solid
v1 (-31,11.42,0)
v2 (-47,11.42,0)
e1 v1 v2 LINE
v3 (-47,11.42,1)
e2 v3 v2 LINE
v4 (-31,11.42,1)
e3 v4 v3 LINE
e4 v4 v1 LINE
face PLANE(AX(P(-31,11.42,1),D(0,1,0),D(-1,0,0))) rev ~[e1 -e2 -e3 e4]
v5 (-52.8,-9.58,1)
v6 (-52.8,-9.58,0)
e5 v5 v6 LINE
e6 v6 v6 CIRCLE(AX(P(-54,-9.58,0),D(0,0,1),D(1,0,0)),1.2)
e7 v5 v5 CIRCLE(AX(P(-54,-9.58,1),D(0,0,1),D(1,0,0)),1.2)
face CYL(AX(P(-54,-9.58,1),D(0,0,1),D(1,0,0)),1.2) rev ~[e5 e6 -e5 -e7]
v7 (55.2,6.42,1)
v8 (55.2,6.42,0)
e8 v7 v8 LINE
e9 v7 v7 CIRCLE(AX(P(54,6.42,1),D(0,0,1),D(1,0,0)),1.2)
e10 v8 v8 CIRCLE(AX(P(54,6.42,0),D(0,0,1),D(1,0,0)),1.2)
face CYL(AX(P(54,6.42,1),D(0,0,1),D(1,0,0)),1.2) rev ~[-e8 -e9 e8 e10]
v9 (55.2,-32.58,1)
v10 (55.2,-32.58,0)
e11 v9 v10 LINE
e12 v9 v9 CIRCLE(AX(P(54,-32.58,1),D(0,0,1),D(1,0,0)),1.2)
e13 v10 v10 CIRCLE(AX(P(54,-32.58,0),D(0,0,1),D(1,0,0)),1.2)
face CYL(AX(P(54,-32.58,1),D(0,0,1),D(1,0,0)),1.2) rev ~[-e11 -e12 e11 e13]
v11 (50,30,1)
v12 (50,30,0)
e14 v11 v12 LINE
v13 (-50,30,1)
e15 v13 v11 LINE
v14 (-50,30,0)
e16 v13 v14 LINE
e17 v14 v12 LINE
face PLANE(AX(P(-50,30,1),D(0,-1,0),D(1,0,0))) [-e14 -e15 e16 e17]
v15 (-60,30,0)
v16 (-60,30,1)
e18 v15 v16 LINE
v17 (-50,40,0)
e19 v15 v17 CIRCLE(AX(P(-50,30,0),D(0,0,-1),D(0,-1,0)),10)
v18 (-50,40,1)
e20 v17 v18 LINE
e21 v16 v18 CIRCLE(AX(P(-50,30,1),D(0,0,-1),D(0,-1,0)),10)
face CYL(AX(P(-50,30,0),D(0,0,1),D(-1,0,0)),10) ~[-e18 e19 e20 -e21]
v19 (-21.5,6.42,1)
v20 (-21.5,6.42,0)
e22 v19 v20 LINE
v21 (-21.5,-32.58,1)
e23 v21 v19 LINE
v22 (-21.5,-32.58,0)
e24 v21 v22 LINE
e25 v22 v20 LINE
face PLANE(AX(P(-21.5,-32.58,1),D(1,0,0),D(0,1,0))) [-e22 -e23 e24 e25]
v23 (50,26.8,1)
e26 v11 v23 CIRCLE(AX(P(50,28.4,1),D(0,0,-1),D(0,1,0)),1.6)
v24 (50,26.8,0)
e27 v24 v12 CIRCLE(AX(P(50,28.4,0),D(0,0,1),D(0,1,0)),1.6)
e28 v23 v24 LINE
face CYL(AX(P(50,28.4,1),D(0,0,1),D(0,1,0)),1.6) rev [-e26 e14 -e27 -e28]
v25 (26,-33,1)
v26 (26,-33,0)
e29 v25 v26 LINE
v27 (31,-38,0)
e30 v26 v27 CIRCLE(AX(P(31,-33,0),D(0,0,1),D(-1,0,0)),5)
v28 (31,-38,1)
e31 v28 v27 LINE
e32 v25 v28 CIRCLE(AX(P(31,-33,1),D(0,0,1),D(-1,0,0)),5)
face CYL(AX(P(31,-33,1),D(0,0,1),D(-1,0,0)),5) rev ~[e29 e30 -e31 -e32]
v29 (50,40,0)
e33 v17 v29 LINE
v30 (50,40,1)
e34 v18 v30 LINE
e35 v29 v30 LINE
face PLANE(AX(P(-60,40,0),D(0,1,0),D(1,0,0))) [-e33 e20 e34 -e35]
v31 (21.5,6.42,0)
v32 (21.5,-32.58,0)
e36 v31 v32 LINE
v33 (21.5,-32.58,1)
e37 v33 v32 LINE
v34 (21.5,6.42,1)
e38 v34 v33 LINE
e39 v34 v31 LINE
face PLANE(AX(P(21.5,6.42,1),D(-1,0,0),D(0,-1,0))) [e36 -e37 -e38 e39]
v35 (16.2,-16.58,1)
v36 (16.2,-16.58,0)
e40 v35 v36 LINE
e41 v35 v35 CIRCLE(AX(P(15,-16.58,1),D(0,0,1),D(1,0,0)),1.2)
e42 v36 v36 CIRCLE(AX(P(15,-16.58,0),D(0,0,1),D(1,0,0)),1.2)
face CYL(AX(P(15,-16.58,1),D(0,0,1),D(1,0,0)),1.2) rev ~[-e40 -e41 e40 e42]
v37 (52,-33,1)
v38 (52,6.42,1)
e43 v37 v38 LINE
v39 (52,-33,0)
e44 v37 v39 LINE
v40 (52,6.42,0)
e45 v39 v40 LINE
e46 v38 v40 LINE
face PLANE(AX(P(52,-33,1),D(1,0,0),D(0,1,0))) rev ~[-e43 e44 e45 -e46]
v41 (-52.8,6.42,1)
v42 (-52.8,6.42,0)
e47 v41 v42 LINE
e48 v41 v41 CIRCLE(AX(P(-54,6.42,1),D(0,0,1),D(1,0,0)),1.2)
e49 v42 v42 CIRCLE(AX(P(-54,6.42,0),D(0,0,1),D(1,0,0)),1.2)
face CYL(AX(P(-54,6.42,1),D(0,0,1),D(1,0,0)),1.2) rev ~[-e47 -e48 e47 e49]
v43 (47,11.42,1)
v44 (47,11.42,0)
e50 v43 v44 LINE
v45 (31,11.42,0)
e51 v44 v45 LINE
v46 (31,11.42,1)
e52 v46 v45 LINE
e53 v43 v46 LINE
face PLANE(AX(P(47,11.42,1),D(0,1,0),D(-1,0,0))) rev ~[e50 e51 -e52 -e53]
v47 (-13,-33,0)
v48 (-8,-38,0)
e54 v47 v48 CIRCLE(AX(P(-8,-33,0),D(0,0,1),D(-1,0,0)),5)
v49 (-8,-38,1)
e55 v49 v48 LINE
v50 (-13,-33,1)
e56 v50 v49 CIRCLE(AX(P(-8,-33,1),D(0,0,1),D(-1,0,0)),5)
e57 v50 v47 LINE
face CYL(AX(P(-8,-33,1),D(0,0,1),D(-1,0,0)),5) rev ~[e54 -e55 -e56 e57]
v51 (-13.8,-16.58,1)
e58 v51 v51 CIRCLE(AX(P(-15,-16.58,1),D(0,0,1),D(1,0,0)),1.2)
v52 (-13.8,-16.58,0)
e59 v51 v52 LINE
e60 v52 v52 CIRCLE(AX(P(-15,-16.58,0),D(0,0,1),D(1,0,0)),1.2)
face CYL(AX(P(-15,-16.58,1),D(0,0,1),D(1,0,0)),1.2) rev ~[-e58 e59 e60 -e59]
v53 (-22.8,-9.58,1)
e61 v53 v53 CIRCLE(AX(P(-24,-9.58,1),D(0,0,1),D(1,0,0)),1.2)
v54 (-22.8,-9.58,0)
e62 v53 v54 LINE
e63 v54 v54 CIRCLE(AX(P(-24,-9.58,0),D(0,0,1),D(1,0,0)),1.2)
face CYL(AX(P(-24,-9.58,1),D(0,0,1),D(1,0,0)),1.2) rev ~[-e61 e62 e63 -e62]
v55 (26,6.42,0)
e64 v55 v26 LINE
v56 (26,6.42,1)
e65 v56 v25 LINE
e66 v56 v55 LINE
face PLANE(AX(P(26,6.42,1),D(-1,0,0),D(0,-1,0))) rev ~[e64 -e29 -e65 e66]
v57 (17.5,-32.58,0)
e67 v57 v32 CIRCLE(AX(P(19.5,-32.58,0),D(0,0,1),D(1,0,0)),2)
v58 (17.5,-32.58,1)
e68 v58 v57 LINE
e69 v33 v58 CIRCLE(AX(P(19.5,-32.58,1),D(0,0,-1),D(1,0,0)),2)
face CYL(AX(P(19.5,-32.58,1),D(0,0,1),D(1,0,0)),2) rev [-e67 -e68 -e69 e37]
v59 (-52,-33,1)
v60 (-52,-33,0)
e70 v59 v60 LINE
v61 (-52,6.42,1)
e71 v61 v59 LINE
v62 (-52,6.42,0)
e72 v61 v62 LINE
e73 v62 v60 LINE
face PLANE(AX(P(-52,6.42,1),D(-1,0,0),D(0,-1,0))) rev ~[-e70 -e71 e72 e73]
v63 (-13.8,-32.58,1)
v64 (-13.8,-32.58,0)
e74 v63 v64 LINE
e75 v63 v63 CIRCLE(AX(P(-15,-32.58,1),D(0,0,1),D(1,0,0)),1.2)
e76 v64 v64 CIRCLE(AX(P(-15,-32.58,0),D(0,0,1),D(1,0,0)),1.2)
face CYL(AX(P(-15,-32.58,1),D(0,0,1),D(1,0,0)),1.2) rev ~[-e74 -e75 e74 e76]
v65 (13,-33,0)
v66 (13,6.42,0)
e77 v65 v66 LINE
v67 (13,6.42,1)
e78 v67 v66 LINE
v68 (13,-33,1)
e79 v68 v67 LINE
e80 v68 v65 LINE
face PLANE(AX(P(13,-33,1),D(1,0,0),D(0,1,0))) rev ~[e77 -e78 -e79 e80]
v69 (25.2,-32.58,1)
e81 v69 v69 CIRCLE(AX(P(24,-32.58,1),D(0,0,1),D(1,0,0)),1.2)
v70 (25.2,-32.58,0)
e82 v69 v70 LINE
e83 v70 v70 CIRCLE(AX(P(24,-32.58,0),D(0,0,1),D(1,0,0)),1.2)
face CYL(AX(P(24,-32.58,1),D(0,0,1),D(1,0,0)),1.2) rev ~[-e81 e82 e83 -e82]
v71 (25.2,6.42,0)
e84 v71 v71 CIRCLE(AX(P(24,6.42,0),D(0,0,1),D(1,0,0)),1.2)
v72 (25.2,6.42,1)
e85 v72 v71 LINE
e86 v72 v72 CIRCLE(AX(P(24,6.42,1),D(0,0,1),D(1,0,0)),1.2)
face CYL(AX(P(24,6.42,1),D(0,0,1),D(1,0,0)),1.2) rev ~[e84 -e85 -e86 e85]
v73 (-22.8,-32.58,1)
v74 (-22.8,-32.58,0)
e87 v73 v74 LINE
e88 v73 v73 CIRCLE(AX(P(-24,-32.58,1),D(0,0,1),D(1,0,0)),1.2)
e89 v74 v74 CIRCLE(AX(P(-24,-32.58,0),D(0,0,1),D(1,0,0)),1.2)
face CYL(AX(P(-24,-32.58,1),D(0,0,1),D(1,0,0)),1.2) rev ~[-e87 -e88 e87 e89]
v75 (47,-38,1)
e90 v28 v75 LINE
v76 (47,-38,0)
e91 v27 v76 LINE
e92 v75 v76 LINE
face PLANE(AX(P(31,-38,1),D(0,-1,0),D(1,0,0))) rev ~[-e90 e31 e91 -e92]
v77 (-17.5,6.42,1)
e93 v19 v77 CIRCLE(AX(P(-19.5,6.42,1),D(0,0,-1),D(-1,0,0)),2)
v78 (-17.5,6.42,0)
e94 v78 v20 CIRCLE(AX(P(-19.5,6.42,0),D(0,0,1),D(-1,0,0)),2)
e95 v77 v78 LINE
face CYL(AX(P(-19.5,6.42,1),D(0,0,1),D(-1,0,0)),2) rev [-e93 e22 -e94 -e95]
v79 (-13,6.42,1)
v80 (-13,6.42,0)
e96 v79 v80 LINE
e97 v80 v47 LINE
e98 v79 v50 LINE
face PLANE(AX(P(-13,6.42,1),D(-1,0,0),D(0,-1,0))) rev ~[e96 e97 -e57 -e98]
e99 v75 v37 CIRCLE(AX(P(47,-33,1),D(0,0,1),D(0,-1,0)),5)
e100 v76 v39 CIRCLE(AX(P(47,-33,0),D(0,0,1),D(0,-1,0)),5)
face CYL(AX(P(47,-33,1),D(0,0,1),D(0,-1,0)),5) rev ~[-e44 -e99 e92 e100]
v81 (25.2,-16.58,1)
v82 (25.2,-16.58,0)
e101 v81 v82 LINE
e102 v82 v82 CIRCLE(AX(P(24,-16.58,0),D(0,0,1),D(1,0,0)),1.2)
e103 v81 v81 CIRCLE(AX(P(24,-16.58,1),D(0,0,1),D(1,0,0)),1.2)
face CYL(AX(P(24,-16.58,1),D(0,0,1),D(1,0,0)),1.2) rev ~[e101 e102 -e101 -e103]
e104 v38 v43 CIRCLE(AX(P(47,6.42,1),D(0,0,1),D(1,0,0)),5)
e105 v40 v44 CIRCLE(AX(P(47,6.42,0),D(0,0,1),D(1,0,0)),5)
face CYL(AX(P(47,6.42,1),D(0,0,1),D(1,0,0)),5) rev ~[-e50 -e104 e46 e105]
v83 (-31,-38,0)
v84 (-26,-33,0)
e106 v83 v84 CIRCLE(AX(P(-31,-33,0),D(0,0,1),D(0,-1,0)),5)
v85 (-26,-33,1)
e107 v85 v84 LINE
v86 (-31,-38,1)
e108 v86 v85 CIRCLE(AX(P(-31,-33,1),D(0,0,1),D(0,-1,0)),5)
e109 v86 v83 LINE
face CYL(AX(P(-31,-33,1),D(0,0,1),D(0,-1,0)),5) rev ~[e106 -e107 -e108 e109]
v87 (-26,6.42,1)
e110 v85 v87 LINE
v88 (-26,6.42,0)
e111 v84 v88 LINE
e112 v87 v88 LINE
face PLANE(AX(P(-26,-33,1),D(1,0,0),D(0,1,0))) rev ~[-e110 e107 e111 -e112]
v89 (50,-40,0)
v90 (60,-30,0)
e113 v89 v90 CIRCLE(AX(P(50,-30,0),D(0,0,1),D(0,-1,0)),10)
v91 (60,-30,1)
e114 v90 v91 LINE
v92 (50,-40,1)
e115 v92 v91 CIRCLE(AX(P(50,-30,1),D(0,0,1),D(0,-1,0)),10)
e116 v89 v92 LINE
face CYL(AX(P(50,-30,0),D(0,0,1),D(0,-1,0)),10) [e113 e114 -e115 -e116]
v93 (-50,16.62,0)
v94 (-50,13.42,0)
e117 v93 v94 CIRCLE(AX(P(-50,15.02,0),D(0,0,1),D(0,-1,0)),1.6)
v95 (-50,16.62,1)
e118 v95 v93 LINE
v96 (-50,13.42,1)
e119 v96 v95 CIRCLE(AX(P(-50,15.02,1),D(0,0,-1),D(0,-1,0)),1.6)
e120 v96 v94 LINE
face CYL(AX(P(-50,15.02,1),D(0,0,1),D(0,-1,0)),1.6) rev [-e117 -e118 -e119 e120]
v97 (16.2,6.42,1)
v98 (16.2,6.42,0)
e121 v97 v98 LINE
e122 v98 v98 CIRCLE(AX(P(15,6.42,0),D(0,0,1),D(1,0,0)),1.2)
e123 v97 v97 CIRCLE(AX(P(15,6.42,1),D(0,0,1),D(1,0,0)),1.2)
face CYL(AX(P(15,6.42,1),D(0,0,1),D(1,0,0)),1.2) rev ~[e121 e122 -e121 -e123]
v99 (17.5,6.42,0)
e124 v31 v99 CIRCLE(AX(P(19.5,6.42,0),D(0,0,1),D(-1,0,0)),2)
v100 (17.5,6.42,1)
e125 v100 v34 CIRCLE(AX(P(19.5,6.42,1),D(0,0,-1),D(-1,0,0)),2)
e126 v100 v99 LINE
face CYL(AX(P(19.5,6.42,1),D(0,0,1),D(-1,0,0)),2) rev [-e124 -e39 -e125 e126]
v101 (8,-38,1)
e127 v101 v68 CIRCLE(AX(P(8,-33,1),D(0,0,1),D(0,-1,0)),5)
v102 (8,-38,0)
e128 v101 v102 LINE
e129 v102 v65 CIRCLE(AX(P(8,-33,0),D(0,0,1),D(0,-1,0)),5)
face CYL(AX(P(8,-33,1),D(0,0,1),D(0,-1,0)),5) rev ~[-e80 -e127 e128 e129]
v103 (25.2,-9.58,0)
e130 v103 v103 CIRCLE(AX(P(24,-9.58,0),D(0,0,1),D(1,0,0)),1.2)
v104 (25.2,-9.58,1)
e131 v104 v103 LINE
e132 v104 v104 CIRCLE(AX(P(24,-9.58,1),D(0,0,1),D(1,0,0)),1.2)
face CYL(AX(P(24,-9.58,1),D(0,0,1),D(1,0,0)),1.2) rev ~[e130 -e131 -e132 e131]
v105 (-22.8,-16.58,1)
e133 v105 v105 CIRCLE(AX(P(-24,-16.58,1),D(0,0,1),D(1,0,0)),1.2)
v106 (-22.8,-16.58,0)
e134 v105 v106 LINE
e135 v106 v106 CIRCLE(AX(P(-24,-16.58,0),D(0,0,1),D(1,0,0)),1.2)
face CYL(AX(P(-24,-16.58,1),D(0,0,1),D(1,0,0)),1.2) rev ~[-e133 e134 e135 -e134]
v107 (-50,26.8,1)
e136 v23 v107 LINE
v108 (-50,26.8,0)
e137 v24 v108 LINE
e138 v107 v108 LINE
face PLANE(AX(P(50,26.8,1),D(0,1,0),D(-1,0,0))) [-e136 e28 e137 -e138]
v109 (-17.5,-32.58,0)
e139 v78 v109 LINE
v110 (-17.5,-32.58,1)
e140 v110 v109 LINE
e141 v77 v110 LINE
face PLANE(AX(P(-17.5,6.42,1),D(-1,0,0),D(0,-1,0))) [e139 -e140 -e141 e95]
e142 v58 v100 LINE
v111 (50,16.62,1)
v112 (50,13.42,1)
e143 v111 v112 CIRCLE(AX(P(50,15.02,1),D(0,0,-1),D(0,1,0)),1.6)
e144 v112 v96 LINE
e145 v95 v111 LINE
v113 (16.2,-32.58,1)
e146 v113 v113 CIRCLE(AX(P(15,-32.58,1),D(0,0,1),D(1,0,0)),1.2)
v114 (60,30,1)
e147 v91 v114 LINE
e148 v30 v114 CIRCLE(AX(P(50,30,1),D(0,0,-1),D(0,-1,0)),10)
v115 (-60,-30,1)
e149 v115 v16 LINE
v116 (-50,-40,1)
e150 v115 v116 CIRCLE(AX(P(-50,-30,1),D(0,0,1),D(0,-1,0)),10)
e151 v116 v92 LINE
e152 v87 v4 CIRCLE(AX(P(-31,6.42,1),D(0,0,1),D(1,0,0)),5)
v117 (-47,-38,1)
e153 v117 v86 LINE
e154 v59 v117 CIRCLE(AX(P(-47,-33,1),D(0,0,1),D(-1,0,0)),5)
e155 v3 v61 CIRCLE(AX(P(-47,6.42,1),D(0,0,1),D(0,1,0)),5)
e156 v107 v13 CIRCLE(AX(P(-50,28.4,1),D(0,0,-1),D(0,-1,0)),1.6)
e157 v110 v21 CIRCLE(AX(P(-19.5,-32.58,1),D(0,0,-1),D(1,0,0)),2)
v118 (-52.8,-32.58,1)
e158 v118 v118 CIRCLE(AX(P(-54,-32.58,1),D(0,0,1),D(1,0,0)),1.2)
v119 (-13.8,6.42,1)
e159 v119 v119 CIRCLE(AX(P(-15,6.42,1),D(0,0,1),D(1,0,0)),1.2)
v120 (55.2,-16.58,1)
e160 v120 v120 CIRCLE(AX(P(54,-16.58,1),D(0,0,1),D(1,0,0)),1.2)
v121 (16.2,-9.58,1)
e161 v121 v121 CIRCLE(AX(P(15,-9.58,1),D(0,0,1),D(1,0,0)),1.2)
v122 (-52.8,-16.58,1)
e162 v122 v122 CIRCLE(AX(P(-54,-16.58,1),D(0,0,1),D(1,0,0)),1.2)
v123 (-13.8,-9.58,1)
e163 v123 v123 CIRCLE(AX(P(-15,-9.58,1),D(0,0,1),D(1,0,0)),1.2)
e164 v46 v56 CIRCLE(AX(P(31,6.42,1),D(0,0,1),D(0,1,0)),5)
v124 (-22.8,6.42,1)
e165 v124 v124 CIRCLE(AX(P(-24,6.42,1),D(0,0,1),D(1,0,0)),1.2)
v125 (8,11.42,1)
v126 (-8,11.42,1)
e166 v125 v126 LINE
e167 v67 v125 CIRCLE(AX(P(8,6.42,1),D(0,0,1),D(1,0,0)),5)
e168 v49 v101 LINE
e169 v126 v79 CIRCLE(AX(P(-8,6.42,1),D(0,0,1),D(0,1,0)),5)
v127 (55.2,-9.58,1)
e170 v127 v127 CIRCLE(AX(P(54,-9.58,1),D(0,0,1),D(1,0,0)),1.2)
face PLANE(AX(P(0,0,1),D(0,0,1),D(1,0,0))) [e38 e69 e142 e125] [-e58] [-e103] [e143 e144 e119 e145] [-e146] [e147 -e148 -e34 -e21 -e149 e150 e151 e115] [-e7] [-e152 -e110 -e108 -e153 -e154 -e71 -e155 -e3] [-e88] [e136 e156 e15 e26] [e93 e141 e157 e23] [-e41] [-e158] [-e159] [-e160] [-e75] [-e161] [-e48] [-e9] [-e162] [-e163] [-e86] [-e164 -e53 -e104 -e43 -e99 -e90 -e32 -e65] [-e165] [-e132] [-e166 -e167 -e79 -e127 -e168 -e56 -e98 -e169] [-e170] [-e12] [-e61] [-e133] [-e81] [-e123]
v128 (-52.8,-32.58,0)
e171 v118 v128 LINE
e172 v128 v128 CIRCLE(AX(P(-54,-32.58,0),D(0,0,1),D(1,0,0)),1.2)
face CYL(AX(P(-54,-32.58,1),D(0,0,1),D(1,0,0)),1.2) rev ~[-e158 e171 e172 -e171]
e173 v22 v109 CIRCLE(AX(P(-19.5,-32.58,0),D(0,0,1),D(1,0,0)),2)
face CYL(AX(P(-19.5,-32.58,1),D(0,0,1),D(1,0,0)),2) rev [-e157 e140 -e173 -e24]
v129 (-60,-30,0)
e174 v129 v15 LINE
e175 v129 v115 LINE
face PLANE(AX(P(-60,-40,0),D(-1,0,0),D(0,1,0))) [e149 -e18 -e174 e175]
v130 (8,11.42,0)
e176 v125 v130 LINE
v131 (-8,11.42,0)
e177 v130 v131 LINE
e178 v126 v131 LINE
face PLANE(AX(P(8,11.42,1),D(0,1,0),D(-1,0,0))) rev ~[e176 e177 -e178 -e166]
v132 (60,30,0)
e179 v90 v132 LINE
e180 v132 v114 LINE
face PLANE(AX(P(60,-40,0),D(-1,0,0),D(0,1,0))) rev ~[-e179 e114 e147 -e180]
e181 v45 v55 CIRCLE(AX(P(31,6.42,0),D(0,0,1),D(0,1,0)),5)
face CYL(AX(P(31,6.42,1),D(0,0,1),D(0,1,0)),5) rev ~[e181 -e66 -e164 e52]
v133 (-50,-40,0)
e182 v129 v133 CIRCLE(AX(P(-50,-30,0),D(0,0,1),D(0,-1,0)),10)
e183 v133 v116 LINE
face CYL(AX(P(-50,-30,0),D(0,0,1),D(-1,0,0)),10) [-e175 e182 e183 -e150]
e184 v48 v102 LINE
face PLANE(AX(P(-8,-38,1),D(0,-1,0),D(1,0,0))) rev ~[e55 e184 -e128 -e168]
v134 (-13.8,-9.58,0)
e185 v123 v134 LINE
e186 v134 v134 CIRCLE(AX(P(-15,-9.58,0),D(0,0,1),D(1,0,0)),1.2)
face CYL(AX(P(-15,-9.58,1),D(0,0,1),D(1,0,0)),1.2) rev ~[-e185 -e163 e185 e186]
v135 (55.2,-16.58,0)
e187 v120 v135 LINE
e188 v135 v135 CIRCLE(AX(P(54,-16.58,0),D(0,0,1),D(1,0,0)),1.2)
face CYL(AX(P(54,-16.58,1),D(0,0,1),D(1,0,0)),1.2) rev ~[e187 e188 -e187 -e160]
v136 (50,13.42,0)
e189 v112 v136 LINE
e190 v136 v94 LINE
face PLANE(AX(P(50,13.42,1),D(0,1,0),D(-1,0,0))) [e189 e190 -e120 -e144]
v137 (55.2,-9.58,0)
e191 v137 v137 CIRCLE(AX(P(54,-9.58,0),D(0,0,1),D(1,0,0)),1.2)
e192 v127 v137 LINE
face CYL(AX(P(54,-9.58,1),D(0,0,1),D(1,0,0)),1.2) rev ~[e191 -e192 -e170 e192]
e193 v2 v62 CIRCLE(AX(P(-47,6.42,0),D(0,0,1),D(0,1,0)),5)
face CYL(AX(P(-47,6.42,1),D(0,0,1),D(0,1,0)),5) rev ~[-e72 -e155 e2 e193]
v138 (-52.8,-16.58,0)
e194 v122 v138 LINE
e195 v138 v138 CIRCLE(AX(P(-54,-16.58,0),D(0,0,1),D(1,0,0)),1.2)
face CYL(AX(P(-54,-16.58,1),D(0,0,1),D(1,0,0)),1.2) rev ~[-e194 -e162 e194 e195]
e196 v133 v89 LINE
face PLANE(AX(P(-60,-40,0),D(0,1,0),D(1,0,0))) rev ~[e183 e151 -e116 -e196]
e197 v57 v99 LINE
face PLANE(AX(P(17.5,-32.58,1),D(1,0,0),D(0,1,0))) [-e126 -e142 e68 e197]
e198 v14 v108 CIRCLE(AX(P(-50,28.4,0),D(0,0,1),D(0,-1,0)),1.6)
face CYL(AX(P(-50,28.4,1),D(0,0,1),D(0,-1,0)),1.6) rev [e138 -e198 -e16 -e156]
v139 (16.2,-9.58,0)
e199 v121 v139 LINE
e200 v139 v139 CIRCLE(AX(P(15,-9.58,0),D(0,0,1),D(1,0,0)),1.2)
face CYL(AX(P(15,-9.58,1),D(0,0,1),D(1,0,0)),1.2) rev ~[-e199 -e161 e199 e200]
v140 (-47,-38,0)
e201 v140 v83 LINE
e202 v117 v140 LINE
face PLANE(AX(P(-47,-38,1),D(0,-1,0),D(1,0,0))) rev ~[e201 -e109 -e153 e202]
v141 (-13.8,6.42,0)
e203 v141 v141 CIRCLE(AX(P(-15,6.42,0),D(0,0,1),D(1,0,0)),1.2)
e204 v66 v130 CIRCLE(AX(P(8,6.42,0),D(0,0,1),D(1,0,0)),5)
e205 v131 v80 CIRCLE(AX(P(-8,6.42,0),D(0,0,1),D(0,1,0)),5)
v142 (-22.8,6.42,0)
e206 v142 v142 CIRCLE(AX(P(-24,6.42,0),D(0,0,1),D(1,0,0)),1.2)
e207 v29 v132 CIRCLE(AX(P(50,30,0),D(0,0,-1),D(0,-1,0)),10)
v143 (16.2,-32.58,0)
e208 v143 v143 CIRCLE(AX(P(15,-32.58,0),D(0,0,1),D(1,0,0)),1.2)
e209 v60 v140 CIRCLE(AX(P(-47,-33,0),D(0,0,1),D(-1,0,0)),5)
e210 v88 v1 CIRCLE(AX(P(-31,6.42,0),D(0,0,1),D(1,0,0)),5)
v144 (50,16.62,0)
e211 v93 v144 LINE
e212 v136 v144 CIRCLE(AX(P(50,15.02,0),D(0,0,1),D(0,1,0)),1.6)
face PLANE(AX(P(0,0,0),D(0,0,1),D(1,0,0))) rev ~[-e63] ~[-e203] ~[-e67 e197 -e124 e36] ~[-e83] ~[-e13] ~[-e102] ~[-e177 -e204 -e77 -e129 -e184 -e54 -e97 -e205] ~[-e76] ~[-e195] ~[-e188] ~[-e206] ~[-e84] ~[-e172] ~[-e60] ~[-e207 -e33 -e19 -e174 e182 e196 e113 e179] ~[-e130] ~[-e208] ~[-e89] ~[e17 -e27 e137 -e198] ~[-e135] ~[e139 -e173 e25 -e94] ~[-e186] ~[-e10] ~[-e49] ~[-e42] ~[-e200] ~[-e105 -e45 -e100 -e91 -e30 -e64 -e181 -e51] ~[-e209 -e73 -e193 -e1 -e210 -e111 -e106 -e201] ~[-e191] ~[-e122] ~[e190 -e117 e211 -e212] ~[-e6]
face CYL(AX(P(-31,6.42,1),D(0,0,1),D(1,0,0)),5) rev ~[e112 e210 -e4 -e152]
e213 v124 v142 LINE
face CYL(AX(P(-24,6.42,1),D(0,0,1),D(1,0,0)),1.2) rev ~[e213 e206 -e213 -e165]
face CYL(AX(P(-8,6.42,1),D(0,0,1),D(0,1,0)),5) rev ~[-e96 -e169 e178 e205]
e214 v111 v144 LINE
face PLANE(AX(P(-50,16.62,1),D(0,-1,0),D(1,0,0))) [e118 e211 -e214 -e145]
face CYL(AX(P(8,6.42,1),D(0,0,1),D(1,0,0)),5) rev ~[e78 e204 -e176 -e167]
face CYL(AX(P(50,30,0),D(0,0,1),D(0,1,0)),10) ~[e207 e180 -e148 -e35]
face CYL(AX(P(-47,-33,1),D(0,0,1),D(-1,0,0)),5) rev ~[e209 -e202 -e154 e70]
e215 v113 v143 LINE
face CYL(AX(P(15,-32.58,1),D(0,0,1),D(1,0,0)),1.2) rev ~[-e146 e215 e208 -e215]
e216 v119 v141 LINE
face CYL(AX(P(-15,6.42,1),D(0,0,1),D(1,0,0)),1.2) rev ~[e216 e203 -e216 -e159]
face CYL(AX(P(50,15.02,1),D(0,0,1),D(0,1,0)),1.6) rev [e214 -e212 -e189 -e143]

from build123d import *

# Parameters (mm, degrees)
SKETCH1_W            = 120
SKETCH1_H            = 80
PLATE_DEPTH          = 1
SLOT_CUT_DEPTH       = 73.117958928
SECOND_SLOT_COUNT    = 2
SECOND_SLOT_PITCH    = 13.38
MOTOR_OUTLINE_R      = 1.2
MOTOR_MOUNT_DEPTH    = 73.117958928
MOTORS_COUNT         = 3
MOTORS_PITCH         = 39
MOTORS_COUNT_DIR2    = 2
MOTORS_PITCH_DIR2    = 23
MOTOR_CUTOUT_DEPTH   = 73.117958928
CUTOUT_PATTERN_COUNT = 3
CUTOUT_PATTERN_PITCH = 39
FILLET1_R            = 10
CUT_EXTRUDE5_DEPTH   = 73.117958928
LPATTERN6_COUNT      = 2
LPATTERN6_PITCH      = 39


with BuildPart() as part:
    # Sketch1 → plate (new body)
    with BuildSketch(Plane.XY):
        Rectangle(SKETCH1_W, SKETCH1_H)
    extrude(amount=PLATE_DEPTH)

    # Sketch2 → slot_cut (cut, through all)
    with BuildSketch(Plane.XY.offset(1)):
        with BuildLine():
            Line((50, 26.8), (-50, 26.8))
            ThreePointArc((-50, 26.8), (-51.6, 28.4), (-50, 30))
            Line((-50, 30), (50, 30))
            ThreePointArc((50, 30), (51.6, 28.4), (50, 26.8))
        make_face()
    slot_cut = extrude(amount=-SLOT_CUT_DEPTH, mode=Mode.SUBTRACT)

    # second_slot: slot_cut ×2
    with Locations(*[(0, -i * SECOND_SLOT_PITCH, 0) for i in range(1, SECOND_SLOT_COUNT)]):
        add(slot_cut, mode=Mode.SUBTRACT)

    # motor_outline → motor_mount (cut, through all)
    with BuildSketch(Plane.XY.offset(1)):
        with Locations((-54, 6.42)):
            Circle(MOTOR_OUTLINE_R)
        with Locations((-54, -9.58)):
            Circle(MOTOR_OUTLINE_R)
        with Locations((-24, -9.58)):
            Circle(MOTOR_OUTLINE_R)
        with Locations((-24, 6.42)):
            Circle(MOTOR_OUTLINE_R)
    motor_mount = extrude(amount=-MOTOR_MOUNT_DEPTH, mode=Mode.SUBTRACT)

    # motors: motor_mount 3 × 2
    with Locations(*[(i * MOTORS_PITCH, -j * MOTORS_PITCH_DIR2, 0) for i in range(MOTORS_COUNT) for j in range(MOTORS_COUNT_DIR2) if (i, j) != (0, 0)]):
        add(motor_mount, mode=Mode.SUBTRACT)

    # motor_outline<5> → motor_cutout (cut, through all)
    with BuildSketch(Plane.XY.offset(1)):
        with BuildLine():
            Line((-26, -33), (-26, 6.42))
            ThreePointArc((-26, 6.42), (-27.464466094, 9.955533906), (-31, 11.42))
            Line((-31, 11.42), (-47, 11.42))
            ThreePointArc((-47, 11.42), (-50.535533906, 9.955533906), (-52, 6.42))
            Line((-52, 6.42), (-52, -33))
            ThreePointArc((-52, -33), (-50.535533906, -36.535533906), (-47, -38))
            Line((-47, -38), (-31, -38))
            ThreePointArc((-31, -38), (-27.464466094, -36.535533906), (-26, -33))
        make_face()
    motor_cutout = extrude(amount=-MOTOR_CUTOUT_DEPTH, mode=Mode.SUBTRACT)

    # cutout_pattern: motor_cutout ×3
    with Locations(*[(i * CUTOUT_PATTERN_PITCH, 0, 0) for i in range(1, CUTOUT_PATTERN_COUNT)]):
        add(motor_cutout, mode=Mode.SUBTRACT)

    # Fillet1
    fillet1_edges = [part.edges().sort_by_distance(p)[0] for p in [
        (-60, -40, 0.5),
        (60, -40, 0.5),
        (60, 40, 0.5),
        (-60, 40, 0.5),
    ]]
    fillet(fillet1_edges, radius=FILLET1_R)

    # Sketch4 → Cut-Extrude5 (cut, through all)
    with BuildSketch(Plane.XY.offset(1)):
        with BuildLine():
            Line((-17.5, 6.42), (-17.5, -32.58))
            ThreePointArc((-17.5, -32.58), (-19.5, -34.58), (-21.5, -32.58))
            Line((-21.5, -32.58), (-21.5, 6.42))
            ThreePointArc((-21.5, 6.42), (-19.5, 8.42), (-17.5, 6.42))
        make_face()
    cut_extrude5 = extrude(amount=-CUT_EXTRUDE5_DEPTH, mode=Mode.SUBTRACT)

    # LPattern6: Cut-Extrude5 ×2
    with Locations(*[(i * LPATTERN6_PITCH, 0, 0) for i in range(1, LPATTERN6_COUNT)]):
        add(cut_extrude5, mode=Mode.SUBTRACT)


solid = part.part
